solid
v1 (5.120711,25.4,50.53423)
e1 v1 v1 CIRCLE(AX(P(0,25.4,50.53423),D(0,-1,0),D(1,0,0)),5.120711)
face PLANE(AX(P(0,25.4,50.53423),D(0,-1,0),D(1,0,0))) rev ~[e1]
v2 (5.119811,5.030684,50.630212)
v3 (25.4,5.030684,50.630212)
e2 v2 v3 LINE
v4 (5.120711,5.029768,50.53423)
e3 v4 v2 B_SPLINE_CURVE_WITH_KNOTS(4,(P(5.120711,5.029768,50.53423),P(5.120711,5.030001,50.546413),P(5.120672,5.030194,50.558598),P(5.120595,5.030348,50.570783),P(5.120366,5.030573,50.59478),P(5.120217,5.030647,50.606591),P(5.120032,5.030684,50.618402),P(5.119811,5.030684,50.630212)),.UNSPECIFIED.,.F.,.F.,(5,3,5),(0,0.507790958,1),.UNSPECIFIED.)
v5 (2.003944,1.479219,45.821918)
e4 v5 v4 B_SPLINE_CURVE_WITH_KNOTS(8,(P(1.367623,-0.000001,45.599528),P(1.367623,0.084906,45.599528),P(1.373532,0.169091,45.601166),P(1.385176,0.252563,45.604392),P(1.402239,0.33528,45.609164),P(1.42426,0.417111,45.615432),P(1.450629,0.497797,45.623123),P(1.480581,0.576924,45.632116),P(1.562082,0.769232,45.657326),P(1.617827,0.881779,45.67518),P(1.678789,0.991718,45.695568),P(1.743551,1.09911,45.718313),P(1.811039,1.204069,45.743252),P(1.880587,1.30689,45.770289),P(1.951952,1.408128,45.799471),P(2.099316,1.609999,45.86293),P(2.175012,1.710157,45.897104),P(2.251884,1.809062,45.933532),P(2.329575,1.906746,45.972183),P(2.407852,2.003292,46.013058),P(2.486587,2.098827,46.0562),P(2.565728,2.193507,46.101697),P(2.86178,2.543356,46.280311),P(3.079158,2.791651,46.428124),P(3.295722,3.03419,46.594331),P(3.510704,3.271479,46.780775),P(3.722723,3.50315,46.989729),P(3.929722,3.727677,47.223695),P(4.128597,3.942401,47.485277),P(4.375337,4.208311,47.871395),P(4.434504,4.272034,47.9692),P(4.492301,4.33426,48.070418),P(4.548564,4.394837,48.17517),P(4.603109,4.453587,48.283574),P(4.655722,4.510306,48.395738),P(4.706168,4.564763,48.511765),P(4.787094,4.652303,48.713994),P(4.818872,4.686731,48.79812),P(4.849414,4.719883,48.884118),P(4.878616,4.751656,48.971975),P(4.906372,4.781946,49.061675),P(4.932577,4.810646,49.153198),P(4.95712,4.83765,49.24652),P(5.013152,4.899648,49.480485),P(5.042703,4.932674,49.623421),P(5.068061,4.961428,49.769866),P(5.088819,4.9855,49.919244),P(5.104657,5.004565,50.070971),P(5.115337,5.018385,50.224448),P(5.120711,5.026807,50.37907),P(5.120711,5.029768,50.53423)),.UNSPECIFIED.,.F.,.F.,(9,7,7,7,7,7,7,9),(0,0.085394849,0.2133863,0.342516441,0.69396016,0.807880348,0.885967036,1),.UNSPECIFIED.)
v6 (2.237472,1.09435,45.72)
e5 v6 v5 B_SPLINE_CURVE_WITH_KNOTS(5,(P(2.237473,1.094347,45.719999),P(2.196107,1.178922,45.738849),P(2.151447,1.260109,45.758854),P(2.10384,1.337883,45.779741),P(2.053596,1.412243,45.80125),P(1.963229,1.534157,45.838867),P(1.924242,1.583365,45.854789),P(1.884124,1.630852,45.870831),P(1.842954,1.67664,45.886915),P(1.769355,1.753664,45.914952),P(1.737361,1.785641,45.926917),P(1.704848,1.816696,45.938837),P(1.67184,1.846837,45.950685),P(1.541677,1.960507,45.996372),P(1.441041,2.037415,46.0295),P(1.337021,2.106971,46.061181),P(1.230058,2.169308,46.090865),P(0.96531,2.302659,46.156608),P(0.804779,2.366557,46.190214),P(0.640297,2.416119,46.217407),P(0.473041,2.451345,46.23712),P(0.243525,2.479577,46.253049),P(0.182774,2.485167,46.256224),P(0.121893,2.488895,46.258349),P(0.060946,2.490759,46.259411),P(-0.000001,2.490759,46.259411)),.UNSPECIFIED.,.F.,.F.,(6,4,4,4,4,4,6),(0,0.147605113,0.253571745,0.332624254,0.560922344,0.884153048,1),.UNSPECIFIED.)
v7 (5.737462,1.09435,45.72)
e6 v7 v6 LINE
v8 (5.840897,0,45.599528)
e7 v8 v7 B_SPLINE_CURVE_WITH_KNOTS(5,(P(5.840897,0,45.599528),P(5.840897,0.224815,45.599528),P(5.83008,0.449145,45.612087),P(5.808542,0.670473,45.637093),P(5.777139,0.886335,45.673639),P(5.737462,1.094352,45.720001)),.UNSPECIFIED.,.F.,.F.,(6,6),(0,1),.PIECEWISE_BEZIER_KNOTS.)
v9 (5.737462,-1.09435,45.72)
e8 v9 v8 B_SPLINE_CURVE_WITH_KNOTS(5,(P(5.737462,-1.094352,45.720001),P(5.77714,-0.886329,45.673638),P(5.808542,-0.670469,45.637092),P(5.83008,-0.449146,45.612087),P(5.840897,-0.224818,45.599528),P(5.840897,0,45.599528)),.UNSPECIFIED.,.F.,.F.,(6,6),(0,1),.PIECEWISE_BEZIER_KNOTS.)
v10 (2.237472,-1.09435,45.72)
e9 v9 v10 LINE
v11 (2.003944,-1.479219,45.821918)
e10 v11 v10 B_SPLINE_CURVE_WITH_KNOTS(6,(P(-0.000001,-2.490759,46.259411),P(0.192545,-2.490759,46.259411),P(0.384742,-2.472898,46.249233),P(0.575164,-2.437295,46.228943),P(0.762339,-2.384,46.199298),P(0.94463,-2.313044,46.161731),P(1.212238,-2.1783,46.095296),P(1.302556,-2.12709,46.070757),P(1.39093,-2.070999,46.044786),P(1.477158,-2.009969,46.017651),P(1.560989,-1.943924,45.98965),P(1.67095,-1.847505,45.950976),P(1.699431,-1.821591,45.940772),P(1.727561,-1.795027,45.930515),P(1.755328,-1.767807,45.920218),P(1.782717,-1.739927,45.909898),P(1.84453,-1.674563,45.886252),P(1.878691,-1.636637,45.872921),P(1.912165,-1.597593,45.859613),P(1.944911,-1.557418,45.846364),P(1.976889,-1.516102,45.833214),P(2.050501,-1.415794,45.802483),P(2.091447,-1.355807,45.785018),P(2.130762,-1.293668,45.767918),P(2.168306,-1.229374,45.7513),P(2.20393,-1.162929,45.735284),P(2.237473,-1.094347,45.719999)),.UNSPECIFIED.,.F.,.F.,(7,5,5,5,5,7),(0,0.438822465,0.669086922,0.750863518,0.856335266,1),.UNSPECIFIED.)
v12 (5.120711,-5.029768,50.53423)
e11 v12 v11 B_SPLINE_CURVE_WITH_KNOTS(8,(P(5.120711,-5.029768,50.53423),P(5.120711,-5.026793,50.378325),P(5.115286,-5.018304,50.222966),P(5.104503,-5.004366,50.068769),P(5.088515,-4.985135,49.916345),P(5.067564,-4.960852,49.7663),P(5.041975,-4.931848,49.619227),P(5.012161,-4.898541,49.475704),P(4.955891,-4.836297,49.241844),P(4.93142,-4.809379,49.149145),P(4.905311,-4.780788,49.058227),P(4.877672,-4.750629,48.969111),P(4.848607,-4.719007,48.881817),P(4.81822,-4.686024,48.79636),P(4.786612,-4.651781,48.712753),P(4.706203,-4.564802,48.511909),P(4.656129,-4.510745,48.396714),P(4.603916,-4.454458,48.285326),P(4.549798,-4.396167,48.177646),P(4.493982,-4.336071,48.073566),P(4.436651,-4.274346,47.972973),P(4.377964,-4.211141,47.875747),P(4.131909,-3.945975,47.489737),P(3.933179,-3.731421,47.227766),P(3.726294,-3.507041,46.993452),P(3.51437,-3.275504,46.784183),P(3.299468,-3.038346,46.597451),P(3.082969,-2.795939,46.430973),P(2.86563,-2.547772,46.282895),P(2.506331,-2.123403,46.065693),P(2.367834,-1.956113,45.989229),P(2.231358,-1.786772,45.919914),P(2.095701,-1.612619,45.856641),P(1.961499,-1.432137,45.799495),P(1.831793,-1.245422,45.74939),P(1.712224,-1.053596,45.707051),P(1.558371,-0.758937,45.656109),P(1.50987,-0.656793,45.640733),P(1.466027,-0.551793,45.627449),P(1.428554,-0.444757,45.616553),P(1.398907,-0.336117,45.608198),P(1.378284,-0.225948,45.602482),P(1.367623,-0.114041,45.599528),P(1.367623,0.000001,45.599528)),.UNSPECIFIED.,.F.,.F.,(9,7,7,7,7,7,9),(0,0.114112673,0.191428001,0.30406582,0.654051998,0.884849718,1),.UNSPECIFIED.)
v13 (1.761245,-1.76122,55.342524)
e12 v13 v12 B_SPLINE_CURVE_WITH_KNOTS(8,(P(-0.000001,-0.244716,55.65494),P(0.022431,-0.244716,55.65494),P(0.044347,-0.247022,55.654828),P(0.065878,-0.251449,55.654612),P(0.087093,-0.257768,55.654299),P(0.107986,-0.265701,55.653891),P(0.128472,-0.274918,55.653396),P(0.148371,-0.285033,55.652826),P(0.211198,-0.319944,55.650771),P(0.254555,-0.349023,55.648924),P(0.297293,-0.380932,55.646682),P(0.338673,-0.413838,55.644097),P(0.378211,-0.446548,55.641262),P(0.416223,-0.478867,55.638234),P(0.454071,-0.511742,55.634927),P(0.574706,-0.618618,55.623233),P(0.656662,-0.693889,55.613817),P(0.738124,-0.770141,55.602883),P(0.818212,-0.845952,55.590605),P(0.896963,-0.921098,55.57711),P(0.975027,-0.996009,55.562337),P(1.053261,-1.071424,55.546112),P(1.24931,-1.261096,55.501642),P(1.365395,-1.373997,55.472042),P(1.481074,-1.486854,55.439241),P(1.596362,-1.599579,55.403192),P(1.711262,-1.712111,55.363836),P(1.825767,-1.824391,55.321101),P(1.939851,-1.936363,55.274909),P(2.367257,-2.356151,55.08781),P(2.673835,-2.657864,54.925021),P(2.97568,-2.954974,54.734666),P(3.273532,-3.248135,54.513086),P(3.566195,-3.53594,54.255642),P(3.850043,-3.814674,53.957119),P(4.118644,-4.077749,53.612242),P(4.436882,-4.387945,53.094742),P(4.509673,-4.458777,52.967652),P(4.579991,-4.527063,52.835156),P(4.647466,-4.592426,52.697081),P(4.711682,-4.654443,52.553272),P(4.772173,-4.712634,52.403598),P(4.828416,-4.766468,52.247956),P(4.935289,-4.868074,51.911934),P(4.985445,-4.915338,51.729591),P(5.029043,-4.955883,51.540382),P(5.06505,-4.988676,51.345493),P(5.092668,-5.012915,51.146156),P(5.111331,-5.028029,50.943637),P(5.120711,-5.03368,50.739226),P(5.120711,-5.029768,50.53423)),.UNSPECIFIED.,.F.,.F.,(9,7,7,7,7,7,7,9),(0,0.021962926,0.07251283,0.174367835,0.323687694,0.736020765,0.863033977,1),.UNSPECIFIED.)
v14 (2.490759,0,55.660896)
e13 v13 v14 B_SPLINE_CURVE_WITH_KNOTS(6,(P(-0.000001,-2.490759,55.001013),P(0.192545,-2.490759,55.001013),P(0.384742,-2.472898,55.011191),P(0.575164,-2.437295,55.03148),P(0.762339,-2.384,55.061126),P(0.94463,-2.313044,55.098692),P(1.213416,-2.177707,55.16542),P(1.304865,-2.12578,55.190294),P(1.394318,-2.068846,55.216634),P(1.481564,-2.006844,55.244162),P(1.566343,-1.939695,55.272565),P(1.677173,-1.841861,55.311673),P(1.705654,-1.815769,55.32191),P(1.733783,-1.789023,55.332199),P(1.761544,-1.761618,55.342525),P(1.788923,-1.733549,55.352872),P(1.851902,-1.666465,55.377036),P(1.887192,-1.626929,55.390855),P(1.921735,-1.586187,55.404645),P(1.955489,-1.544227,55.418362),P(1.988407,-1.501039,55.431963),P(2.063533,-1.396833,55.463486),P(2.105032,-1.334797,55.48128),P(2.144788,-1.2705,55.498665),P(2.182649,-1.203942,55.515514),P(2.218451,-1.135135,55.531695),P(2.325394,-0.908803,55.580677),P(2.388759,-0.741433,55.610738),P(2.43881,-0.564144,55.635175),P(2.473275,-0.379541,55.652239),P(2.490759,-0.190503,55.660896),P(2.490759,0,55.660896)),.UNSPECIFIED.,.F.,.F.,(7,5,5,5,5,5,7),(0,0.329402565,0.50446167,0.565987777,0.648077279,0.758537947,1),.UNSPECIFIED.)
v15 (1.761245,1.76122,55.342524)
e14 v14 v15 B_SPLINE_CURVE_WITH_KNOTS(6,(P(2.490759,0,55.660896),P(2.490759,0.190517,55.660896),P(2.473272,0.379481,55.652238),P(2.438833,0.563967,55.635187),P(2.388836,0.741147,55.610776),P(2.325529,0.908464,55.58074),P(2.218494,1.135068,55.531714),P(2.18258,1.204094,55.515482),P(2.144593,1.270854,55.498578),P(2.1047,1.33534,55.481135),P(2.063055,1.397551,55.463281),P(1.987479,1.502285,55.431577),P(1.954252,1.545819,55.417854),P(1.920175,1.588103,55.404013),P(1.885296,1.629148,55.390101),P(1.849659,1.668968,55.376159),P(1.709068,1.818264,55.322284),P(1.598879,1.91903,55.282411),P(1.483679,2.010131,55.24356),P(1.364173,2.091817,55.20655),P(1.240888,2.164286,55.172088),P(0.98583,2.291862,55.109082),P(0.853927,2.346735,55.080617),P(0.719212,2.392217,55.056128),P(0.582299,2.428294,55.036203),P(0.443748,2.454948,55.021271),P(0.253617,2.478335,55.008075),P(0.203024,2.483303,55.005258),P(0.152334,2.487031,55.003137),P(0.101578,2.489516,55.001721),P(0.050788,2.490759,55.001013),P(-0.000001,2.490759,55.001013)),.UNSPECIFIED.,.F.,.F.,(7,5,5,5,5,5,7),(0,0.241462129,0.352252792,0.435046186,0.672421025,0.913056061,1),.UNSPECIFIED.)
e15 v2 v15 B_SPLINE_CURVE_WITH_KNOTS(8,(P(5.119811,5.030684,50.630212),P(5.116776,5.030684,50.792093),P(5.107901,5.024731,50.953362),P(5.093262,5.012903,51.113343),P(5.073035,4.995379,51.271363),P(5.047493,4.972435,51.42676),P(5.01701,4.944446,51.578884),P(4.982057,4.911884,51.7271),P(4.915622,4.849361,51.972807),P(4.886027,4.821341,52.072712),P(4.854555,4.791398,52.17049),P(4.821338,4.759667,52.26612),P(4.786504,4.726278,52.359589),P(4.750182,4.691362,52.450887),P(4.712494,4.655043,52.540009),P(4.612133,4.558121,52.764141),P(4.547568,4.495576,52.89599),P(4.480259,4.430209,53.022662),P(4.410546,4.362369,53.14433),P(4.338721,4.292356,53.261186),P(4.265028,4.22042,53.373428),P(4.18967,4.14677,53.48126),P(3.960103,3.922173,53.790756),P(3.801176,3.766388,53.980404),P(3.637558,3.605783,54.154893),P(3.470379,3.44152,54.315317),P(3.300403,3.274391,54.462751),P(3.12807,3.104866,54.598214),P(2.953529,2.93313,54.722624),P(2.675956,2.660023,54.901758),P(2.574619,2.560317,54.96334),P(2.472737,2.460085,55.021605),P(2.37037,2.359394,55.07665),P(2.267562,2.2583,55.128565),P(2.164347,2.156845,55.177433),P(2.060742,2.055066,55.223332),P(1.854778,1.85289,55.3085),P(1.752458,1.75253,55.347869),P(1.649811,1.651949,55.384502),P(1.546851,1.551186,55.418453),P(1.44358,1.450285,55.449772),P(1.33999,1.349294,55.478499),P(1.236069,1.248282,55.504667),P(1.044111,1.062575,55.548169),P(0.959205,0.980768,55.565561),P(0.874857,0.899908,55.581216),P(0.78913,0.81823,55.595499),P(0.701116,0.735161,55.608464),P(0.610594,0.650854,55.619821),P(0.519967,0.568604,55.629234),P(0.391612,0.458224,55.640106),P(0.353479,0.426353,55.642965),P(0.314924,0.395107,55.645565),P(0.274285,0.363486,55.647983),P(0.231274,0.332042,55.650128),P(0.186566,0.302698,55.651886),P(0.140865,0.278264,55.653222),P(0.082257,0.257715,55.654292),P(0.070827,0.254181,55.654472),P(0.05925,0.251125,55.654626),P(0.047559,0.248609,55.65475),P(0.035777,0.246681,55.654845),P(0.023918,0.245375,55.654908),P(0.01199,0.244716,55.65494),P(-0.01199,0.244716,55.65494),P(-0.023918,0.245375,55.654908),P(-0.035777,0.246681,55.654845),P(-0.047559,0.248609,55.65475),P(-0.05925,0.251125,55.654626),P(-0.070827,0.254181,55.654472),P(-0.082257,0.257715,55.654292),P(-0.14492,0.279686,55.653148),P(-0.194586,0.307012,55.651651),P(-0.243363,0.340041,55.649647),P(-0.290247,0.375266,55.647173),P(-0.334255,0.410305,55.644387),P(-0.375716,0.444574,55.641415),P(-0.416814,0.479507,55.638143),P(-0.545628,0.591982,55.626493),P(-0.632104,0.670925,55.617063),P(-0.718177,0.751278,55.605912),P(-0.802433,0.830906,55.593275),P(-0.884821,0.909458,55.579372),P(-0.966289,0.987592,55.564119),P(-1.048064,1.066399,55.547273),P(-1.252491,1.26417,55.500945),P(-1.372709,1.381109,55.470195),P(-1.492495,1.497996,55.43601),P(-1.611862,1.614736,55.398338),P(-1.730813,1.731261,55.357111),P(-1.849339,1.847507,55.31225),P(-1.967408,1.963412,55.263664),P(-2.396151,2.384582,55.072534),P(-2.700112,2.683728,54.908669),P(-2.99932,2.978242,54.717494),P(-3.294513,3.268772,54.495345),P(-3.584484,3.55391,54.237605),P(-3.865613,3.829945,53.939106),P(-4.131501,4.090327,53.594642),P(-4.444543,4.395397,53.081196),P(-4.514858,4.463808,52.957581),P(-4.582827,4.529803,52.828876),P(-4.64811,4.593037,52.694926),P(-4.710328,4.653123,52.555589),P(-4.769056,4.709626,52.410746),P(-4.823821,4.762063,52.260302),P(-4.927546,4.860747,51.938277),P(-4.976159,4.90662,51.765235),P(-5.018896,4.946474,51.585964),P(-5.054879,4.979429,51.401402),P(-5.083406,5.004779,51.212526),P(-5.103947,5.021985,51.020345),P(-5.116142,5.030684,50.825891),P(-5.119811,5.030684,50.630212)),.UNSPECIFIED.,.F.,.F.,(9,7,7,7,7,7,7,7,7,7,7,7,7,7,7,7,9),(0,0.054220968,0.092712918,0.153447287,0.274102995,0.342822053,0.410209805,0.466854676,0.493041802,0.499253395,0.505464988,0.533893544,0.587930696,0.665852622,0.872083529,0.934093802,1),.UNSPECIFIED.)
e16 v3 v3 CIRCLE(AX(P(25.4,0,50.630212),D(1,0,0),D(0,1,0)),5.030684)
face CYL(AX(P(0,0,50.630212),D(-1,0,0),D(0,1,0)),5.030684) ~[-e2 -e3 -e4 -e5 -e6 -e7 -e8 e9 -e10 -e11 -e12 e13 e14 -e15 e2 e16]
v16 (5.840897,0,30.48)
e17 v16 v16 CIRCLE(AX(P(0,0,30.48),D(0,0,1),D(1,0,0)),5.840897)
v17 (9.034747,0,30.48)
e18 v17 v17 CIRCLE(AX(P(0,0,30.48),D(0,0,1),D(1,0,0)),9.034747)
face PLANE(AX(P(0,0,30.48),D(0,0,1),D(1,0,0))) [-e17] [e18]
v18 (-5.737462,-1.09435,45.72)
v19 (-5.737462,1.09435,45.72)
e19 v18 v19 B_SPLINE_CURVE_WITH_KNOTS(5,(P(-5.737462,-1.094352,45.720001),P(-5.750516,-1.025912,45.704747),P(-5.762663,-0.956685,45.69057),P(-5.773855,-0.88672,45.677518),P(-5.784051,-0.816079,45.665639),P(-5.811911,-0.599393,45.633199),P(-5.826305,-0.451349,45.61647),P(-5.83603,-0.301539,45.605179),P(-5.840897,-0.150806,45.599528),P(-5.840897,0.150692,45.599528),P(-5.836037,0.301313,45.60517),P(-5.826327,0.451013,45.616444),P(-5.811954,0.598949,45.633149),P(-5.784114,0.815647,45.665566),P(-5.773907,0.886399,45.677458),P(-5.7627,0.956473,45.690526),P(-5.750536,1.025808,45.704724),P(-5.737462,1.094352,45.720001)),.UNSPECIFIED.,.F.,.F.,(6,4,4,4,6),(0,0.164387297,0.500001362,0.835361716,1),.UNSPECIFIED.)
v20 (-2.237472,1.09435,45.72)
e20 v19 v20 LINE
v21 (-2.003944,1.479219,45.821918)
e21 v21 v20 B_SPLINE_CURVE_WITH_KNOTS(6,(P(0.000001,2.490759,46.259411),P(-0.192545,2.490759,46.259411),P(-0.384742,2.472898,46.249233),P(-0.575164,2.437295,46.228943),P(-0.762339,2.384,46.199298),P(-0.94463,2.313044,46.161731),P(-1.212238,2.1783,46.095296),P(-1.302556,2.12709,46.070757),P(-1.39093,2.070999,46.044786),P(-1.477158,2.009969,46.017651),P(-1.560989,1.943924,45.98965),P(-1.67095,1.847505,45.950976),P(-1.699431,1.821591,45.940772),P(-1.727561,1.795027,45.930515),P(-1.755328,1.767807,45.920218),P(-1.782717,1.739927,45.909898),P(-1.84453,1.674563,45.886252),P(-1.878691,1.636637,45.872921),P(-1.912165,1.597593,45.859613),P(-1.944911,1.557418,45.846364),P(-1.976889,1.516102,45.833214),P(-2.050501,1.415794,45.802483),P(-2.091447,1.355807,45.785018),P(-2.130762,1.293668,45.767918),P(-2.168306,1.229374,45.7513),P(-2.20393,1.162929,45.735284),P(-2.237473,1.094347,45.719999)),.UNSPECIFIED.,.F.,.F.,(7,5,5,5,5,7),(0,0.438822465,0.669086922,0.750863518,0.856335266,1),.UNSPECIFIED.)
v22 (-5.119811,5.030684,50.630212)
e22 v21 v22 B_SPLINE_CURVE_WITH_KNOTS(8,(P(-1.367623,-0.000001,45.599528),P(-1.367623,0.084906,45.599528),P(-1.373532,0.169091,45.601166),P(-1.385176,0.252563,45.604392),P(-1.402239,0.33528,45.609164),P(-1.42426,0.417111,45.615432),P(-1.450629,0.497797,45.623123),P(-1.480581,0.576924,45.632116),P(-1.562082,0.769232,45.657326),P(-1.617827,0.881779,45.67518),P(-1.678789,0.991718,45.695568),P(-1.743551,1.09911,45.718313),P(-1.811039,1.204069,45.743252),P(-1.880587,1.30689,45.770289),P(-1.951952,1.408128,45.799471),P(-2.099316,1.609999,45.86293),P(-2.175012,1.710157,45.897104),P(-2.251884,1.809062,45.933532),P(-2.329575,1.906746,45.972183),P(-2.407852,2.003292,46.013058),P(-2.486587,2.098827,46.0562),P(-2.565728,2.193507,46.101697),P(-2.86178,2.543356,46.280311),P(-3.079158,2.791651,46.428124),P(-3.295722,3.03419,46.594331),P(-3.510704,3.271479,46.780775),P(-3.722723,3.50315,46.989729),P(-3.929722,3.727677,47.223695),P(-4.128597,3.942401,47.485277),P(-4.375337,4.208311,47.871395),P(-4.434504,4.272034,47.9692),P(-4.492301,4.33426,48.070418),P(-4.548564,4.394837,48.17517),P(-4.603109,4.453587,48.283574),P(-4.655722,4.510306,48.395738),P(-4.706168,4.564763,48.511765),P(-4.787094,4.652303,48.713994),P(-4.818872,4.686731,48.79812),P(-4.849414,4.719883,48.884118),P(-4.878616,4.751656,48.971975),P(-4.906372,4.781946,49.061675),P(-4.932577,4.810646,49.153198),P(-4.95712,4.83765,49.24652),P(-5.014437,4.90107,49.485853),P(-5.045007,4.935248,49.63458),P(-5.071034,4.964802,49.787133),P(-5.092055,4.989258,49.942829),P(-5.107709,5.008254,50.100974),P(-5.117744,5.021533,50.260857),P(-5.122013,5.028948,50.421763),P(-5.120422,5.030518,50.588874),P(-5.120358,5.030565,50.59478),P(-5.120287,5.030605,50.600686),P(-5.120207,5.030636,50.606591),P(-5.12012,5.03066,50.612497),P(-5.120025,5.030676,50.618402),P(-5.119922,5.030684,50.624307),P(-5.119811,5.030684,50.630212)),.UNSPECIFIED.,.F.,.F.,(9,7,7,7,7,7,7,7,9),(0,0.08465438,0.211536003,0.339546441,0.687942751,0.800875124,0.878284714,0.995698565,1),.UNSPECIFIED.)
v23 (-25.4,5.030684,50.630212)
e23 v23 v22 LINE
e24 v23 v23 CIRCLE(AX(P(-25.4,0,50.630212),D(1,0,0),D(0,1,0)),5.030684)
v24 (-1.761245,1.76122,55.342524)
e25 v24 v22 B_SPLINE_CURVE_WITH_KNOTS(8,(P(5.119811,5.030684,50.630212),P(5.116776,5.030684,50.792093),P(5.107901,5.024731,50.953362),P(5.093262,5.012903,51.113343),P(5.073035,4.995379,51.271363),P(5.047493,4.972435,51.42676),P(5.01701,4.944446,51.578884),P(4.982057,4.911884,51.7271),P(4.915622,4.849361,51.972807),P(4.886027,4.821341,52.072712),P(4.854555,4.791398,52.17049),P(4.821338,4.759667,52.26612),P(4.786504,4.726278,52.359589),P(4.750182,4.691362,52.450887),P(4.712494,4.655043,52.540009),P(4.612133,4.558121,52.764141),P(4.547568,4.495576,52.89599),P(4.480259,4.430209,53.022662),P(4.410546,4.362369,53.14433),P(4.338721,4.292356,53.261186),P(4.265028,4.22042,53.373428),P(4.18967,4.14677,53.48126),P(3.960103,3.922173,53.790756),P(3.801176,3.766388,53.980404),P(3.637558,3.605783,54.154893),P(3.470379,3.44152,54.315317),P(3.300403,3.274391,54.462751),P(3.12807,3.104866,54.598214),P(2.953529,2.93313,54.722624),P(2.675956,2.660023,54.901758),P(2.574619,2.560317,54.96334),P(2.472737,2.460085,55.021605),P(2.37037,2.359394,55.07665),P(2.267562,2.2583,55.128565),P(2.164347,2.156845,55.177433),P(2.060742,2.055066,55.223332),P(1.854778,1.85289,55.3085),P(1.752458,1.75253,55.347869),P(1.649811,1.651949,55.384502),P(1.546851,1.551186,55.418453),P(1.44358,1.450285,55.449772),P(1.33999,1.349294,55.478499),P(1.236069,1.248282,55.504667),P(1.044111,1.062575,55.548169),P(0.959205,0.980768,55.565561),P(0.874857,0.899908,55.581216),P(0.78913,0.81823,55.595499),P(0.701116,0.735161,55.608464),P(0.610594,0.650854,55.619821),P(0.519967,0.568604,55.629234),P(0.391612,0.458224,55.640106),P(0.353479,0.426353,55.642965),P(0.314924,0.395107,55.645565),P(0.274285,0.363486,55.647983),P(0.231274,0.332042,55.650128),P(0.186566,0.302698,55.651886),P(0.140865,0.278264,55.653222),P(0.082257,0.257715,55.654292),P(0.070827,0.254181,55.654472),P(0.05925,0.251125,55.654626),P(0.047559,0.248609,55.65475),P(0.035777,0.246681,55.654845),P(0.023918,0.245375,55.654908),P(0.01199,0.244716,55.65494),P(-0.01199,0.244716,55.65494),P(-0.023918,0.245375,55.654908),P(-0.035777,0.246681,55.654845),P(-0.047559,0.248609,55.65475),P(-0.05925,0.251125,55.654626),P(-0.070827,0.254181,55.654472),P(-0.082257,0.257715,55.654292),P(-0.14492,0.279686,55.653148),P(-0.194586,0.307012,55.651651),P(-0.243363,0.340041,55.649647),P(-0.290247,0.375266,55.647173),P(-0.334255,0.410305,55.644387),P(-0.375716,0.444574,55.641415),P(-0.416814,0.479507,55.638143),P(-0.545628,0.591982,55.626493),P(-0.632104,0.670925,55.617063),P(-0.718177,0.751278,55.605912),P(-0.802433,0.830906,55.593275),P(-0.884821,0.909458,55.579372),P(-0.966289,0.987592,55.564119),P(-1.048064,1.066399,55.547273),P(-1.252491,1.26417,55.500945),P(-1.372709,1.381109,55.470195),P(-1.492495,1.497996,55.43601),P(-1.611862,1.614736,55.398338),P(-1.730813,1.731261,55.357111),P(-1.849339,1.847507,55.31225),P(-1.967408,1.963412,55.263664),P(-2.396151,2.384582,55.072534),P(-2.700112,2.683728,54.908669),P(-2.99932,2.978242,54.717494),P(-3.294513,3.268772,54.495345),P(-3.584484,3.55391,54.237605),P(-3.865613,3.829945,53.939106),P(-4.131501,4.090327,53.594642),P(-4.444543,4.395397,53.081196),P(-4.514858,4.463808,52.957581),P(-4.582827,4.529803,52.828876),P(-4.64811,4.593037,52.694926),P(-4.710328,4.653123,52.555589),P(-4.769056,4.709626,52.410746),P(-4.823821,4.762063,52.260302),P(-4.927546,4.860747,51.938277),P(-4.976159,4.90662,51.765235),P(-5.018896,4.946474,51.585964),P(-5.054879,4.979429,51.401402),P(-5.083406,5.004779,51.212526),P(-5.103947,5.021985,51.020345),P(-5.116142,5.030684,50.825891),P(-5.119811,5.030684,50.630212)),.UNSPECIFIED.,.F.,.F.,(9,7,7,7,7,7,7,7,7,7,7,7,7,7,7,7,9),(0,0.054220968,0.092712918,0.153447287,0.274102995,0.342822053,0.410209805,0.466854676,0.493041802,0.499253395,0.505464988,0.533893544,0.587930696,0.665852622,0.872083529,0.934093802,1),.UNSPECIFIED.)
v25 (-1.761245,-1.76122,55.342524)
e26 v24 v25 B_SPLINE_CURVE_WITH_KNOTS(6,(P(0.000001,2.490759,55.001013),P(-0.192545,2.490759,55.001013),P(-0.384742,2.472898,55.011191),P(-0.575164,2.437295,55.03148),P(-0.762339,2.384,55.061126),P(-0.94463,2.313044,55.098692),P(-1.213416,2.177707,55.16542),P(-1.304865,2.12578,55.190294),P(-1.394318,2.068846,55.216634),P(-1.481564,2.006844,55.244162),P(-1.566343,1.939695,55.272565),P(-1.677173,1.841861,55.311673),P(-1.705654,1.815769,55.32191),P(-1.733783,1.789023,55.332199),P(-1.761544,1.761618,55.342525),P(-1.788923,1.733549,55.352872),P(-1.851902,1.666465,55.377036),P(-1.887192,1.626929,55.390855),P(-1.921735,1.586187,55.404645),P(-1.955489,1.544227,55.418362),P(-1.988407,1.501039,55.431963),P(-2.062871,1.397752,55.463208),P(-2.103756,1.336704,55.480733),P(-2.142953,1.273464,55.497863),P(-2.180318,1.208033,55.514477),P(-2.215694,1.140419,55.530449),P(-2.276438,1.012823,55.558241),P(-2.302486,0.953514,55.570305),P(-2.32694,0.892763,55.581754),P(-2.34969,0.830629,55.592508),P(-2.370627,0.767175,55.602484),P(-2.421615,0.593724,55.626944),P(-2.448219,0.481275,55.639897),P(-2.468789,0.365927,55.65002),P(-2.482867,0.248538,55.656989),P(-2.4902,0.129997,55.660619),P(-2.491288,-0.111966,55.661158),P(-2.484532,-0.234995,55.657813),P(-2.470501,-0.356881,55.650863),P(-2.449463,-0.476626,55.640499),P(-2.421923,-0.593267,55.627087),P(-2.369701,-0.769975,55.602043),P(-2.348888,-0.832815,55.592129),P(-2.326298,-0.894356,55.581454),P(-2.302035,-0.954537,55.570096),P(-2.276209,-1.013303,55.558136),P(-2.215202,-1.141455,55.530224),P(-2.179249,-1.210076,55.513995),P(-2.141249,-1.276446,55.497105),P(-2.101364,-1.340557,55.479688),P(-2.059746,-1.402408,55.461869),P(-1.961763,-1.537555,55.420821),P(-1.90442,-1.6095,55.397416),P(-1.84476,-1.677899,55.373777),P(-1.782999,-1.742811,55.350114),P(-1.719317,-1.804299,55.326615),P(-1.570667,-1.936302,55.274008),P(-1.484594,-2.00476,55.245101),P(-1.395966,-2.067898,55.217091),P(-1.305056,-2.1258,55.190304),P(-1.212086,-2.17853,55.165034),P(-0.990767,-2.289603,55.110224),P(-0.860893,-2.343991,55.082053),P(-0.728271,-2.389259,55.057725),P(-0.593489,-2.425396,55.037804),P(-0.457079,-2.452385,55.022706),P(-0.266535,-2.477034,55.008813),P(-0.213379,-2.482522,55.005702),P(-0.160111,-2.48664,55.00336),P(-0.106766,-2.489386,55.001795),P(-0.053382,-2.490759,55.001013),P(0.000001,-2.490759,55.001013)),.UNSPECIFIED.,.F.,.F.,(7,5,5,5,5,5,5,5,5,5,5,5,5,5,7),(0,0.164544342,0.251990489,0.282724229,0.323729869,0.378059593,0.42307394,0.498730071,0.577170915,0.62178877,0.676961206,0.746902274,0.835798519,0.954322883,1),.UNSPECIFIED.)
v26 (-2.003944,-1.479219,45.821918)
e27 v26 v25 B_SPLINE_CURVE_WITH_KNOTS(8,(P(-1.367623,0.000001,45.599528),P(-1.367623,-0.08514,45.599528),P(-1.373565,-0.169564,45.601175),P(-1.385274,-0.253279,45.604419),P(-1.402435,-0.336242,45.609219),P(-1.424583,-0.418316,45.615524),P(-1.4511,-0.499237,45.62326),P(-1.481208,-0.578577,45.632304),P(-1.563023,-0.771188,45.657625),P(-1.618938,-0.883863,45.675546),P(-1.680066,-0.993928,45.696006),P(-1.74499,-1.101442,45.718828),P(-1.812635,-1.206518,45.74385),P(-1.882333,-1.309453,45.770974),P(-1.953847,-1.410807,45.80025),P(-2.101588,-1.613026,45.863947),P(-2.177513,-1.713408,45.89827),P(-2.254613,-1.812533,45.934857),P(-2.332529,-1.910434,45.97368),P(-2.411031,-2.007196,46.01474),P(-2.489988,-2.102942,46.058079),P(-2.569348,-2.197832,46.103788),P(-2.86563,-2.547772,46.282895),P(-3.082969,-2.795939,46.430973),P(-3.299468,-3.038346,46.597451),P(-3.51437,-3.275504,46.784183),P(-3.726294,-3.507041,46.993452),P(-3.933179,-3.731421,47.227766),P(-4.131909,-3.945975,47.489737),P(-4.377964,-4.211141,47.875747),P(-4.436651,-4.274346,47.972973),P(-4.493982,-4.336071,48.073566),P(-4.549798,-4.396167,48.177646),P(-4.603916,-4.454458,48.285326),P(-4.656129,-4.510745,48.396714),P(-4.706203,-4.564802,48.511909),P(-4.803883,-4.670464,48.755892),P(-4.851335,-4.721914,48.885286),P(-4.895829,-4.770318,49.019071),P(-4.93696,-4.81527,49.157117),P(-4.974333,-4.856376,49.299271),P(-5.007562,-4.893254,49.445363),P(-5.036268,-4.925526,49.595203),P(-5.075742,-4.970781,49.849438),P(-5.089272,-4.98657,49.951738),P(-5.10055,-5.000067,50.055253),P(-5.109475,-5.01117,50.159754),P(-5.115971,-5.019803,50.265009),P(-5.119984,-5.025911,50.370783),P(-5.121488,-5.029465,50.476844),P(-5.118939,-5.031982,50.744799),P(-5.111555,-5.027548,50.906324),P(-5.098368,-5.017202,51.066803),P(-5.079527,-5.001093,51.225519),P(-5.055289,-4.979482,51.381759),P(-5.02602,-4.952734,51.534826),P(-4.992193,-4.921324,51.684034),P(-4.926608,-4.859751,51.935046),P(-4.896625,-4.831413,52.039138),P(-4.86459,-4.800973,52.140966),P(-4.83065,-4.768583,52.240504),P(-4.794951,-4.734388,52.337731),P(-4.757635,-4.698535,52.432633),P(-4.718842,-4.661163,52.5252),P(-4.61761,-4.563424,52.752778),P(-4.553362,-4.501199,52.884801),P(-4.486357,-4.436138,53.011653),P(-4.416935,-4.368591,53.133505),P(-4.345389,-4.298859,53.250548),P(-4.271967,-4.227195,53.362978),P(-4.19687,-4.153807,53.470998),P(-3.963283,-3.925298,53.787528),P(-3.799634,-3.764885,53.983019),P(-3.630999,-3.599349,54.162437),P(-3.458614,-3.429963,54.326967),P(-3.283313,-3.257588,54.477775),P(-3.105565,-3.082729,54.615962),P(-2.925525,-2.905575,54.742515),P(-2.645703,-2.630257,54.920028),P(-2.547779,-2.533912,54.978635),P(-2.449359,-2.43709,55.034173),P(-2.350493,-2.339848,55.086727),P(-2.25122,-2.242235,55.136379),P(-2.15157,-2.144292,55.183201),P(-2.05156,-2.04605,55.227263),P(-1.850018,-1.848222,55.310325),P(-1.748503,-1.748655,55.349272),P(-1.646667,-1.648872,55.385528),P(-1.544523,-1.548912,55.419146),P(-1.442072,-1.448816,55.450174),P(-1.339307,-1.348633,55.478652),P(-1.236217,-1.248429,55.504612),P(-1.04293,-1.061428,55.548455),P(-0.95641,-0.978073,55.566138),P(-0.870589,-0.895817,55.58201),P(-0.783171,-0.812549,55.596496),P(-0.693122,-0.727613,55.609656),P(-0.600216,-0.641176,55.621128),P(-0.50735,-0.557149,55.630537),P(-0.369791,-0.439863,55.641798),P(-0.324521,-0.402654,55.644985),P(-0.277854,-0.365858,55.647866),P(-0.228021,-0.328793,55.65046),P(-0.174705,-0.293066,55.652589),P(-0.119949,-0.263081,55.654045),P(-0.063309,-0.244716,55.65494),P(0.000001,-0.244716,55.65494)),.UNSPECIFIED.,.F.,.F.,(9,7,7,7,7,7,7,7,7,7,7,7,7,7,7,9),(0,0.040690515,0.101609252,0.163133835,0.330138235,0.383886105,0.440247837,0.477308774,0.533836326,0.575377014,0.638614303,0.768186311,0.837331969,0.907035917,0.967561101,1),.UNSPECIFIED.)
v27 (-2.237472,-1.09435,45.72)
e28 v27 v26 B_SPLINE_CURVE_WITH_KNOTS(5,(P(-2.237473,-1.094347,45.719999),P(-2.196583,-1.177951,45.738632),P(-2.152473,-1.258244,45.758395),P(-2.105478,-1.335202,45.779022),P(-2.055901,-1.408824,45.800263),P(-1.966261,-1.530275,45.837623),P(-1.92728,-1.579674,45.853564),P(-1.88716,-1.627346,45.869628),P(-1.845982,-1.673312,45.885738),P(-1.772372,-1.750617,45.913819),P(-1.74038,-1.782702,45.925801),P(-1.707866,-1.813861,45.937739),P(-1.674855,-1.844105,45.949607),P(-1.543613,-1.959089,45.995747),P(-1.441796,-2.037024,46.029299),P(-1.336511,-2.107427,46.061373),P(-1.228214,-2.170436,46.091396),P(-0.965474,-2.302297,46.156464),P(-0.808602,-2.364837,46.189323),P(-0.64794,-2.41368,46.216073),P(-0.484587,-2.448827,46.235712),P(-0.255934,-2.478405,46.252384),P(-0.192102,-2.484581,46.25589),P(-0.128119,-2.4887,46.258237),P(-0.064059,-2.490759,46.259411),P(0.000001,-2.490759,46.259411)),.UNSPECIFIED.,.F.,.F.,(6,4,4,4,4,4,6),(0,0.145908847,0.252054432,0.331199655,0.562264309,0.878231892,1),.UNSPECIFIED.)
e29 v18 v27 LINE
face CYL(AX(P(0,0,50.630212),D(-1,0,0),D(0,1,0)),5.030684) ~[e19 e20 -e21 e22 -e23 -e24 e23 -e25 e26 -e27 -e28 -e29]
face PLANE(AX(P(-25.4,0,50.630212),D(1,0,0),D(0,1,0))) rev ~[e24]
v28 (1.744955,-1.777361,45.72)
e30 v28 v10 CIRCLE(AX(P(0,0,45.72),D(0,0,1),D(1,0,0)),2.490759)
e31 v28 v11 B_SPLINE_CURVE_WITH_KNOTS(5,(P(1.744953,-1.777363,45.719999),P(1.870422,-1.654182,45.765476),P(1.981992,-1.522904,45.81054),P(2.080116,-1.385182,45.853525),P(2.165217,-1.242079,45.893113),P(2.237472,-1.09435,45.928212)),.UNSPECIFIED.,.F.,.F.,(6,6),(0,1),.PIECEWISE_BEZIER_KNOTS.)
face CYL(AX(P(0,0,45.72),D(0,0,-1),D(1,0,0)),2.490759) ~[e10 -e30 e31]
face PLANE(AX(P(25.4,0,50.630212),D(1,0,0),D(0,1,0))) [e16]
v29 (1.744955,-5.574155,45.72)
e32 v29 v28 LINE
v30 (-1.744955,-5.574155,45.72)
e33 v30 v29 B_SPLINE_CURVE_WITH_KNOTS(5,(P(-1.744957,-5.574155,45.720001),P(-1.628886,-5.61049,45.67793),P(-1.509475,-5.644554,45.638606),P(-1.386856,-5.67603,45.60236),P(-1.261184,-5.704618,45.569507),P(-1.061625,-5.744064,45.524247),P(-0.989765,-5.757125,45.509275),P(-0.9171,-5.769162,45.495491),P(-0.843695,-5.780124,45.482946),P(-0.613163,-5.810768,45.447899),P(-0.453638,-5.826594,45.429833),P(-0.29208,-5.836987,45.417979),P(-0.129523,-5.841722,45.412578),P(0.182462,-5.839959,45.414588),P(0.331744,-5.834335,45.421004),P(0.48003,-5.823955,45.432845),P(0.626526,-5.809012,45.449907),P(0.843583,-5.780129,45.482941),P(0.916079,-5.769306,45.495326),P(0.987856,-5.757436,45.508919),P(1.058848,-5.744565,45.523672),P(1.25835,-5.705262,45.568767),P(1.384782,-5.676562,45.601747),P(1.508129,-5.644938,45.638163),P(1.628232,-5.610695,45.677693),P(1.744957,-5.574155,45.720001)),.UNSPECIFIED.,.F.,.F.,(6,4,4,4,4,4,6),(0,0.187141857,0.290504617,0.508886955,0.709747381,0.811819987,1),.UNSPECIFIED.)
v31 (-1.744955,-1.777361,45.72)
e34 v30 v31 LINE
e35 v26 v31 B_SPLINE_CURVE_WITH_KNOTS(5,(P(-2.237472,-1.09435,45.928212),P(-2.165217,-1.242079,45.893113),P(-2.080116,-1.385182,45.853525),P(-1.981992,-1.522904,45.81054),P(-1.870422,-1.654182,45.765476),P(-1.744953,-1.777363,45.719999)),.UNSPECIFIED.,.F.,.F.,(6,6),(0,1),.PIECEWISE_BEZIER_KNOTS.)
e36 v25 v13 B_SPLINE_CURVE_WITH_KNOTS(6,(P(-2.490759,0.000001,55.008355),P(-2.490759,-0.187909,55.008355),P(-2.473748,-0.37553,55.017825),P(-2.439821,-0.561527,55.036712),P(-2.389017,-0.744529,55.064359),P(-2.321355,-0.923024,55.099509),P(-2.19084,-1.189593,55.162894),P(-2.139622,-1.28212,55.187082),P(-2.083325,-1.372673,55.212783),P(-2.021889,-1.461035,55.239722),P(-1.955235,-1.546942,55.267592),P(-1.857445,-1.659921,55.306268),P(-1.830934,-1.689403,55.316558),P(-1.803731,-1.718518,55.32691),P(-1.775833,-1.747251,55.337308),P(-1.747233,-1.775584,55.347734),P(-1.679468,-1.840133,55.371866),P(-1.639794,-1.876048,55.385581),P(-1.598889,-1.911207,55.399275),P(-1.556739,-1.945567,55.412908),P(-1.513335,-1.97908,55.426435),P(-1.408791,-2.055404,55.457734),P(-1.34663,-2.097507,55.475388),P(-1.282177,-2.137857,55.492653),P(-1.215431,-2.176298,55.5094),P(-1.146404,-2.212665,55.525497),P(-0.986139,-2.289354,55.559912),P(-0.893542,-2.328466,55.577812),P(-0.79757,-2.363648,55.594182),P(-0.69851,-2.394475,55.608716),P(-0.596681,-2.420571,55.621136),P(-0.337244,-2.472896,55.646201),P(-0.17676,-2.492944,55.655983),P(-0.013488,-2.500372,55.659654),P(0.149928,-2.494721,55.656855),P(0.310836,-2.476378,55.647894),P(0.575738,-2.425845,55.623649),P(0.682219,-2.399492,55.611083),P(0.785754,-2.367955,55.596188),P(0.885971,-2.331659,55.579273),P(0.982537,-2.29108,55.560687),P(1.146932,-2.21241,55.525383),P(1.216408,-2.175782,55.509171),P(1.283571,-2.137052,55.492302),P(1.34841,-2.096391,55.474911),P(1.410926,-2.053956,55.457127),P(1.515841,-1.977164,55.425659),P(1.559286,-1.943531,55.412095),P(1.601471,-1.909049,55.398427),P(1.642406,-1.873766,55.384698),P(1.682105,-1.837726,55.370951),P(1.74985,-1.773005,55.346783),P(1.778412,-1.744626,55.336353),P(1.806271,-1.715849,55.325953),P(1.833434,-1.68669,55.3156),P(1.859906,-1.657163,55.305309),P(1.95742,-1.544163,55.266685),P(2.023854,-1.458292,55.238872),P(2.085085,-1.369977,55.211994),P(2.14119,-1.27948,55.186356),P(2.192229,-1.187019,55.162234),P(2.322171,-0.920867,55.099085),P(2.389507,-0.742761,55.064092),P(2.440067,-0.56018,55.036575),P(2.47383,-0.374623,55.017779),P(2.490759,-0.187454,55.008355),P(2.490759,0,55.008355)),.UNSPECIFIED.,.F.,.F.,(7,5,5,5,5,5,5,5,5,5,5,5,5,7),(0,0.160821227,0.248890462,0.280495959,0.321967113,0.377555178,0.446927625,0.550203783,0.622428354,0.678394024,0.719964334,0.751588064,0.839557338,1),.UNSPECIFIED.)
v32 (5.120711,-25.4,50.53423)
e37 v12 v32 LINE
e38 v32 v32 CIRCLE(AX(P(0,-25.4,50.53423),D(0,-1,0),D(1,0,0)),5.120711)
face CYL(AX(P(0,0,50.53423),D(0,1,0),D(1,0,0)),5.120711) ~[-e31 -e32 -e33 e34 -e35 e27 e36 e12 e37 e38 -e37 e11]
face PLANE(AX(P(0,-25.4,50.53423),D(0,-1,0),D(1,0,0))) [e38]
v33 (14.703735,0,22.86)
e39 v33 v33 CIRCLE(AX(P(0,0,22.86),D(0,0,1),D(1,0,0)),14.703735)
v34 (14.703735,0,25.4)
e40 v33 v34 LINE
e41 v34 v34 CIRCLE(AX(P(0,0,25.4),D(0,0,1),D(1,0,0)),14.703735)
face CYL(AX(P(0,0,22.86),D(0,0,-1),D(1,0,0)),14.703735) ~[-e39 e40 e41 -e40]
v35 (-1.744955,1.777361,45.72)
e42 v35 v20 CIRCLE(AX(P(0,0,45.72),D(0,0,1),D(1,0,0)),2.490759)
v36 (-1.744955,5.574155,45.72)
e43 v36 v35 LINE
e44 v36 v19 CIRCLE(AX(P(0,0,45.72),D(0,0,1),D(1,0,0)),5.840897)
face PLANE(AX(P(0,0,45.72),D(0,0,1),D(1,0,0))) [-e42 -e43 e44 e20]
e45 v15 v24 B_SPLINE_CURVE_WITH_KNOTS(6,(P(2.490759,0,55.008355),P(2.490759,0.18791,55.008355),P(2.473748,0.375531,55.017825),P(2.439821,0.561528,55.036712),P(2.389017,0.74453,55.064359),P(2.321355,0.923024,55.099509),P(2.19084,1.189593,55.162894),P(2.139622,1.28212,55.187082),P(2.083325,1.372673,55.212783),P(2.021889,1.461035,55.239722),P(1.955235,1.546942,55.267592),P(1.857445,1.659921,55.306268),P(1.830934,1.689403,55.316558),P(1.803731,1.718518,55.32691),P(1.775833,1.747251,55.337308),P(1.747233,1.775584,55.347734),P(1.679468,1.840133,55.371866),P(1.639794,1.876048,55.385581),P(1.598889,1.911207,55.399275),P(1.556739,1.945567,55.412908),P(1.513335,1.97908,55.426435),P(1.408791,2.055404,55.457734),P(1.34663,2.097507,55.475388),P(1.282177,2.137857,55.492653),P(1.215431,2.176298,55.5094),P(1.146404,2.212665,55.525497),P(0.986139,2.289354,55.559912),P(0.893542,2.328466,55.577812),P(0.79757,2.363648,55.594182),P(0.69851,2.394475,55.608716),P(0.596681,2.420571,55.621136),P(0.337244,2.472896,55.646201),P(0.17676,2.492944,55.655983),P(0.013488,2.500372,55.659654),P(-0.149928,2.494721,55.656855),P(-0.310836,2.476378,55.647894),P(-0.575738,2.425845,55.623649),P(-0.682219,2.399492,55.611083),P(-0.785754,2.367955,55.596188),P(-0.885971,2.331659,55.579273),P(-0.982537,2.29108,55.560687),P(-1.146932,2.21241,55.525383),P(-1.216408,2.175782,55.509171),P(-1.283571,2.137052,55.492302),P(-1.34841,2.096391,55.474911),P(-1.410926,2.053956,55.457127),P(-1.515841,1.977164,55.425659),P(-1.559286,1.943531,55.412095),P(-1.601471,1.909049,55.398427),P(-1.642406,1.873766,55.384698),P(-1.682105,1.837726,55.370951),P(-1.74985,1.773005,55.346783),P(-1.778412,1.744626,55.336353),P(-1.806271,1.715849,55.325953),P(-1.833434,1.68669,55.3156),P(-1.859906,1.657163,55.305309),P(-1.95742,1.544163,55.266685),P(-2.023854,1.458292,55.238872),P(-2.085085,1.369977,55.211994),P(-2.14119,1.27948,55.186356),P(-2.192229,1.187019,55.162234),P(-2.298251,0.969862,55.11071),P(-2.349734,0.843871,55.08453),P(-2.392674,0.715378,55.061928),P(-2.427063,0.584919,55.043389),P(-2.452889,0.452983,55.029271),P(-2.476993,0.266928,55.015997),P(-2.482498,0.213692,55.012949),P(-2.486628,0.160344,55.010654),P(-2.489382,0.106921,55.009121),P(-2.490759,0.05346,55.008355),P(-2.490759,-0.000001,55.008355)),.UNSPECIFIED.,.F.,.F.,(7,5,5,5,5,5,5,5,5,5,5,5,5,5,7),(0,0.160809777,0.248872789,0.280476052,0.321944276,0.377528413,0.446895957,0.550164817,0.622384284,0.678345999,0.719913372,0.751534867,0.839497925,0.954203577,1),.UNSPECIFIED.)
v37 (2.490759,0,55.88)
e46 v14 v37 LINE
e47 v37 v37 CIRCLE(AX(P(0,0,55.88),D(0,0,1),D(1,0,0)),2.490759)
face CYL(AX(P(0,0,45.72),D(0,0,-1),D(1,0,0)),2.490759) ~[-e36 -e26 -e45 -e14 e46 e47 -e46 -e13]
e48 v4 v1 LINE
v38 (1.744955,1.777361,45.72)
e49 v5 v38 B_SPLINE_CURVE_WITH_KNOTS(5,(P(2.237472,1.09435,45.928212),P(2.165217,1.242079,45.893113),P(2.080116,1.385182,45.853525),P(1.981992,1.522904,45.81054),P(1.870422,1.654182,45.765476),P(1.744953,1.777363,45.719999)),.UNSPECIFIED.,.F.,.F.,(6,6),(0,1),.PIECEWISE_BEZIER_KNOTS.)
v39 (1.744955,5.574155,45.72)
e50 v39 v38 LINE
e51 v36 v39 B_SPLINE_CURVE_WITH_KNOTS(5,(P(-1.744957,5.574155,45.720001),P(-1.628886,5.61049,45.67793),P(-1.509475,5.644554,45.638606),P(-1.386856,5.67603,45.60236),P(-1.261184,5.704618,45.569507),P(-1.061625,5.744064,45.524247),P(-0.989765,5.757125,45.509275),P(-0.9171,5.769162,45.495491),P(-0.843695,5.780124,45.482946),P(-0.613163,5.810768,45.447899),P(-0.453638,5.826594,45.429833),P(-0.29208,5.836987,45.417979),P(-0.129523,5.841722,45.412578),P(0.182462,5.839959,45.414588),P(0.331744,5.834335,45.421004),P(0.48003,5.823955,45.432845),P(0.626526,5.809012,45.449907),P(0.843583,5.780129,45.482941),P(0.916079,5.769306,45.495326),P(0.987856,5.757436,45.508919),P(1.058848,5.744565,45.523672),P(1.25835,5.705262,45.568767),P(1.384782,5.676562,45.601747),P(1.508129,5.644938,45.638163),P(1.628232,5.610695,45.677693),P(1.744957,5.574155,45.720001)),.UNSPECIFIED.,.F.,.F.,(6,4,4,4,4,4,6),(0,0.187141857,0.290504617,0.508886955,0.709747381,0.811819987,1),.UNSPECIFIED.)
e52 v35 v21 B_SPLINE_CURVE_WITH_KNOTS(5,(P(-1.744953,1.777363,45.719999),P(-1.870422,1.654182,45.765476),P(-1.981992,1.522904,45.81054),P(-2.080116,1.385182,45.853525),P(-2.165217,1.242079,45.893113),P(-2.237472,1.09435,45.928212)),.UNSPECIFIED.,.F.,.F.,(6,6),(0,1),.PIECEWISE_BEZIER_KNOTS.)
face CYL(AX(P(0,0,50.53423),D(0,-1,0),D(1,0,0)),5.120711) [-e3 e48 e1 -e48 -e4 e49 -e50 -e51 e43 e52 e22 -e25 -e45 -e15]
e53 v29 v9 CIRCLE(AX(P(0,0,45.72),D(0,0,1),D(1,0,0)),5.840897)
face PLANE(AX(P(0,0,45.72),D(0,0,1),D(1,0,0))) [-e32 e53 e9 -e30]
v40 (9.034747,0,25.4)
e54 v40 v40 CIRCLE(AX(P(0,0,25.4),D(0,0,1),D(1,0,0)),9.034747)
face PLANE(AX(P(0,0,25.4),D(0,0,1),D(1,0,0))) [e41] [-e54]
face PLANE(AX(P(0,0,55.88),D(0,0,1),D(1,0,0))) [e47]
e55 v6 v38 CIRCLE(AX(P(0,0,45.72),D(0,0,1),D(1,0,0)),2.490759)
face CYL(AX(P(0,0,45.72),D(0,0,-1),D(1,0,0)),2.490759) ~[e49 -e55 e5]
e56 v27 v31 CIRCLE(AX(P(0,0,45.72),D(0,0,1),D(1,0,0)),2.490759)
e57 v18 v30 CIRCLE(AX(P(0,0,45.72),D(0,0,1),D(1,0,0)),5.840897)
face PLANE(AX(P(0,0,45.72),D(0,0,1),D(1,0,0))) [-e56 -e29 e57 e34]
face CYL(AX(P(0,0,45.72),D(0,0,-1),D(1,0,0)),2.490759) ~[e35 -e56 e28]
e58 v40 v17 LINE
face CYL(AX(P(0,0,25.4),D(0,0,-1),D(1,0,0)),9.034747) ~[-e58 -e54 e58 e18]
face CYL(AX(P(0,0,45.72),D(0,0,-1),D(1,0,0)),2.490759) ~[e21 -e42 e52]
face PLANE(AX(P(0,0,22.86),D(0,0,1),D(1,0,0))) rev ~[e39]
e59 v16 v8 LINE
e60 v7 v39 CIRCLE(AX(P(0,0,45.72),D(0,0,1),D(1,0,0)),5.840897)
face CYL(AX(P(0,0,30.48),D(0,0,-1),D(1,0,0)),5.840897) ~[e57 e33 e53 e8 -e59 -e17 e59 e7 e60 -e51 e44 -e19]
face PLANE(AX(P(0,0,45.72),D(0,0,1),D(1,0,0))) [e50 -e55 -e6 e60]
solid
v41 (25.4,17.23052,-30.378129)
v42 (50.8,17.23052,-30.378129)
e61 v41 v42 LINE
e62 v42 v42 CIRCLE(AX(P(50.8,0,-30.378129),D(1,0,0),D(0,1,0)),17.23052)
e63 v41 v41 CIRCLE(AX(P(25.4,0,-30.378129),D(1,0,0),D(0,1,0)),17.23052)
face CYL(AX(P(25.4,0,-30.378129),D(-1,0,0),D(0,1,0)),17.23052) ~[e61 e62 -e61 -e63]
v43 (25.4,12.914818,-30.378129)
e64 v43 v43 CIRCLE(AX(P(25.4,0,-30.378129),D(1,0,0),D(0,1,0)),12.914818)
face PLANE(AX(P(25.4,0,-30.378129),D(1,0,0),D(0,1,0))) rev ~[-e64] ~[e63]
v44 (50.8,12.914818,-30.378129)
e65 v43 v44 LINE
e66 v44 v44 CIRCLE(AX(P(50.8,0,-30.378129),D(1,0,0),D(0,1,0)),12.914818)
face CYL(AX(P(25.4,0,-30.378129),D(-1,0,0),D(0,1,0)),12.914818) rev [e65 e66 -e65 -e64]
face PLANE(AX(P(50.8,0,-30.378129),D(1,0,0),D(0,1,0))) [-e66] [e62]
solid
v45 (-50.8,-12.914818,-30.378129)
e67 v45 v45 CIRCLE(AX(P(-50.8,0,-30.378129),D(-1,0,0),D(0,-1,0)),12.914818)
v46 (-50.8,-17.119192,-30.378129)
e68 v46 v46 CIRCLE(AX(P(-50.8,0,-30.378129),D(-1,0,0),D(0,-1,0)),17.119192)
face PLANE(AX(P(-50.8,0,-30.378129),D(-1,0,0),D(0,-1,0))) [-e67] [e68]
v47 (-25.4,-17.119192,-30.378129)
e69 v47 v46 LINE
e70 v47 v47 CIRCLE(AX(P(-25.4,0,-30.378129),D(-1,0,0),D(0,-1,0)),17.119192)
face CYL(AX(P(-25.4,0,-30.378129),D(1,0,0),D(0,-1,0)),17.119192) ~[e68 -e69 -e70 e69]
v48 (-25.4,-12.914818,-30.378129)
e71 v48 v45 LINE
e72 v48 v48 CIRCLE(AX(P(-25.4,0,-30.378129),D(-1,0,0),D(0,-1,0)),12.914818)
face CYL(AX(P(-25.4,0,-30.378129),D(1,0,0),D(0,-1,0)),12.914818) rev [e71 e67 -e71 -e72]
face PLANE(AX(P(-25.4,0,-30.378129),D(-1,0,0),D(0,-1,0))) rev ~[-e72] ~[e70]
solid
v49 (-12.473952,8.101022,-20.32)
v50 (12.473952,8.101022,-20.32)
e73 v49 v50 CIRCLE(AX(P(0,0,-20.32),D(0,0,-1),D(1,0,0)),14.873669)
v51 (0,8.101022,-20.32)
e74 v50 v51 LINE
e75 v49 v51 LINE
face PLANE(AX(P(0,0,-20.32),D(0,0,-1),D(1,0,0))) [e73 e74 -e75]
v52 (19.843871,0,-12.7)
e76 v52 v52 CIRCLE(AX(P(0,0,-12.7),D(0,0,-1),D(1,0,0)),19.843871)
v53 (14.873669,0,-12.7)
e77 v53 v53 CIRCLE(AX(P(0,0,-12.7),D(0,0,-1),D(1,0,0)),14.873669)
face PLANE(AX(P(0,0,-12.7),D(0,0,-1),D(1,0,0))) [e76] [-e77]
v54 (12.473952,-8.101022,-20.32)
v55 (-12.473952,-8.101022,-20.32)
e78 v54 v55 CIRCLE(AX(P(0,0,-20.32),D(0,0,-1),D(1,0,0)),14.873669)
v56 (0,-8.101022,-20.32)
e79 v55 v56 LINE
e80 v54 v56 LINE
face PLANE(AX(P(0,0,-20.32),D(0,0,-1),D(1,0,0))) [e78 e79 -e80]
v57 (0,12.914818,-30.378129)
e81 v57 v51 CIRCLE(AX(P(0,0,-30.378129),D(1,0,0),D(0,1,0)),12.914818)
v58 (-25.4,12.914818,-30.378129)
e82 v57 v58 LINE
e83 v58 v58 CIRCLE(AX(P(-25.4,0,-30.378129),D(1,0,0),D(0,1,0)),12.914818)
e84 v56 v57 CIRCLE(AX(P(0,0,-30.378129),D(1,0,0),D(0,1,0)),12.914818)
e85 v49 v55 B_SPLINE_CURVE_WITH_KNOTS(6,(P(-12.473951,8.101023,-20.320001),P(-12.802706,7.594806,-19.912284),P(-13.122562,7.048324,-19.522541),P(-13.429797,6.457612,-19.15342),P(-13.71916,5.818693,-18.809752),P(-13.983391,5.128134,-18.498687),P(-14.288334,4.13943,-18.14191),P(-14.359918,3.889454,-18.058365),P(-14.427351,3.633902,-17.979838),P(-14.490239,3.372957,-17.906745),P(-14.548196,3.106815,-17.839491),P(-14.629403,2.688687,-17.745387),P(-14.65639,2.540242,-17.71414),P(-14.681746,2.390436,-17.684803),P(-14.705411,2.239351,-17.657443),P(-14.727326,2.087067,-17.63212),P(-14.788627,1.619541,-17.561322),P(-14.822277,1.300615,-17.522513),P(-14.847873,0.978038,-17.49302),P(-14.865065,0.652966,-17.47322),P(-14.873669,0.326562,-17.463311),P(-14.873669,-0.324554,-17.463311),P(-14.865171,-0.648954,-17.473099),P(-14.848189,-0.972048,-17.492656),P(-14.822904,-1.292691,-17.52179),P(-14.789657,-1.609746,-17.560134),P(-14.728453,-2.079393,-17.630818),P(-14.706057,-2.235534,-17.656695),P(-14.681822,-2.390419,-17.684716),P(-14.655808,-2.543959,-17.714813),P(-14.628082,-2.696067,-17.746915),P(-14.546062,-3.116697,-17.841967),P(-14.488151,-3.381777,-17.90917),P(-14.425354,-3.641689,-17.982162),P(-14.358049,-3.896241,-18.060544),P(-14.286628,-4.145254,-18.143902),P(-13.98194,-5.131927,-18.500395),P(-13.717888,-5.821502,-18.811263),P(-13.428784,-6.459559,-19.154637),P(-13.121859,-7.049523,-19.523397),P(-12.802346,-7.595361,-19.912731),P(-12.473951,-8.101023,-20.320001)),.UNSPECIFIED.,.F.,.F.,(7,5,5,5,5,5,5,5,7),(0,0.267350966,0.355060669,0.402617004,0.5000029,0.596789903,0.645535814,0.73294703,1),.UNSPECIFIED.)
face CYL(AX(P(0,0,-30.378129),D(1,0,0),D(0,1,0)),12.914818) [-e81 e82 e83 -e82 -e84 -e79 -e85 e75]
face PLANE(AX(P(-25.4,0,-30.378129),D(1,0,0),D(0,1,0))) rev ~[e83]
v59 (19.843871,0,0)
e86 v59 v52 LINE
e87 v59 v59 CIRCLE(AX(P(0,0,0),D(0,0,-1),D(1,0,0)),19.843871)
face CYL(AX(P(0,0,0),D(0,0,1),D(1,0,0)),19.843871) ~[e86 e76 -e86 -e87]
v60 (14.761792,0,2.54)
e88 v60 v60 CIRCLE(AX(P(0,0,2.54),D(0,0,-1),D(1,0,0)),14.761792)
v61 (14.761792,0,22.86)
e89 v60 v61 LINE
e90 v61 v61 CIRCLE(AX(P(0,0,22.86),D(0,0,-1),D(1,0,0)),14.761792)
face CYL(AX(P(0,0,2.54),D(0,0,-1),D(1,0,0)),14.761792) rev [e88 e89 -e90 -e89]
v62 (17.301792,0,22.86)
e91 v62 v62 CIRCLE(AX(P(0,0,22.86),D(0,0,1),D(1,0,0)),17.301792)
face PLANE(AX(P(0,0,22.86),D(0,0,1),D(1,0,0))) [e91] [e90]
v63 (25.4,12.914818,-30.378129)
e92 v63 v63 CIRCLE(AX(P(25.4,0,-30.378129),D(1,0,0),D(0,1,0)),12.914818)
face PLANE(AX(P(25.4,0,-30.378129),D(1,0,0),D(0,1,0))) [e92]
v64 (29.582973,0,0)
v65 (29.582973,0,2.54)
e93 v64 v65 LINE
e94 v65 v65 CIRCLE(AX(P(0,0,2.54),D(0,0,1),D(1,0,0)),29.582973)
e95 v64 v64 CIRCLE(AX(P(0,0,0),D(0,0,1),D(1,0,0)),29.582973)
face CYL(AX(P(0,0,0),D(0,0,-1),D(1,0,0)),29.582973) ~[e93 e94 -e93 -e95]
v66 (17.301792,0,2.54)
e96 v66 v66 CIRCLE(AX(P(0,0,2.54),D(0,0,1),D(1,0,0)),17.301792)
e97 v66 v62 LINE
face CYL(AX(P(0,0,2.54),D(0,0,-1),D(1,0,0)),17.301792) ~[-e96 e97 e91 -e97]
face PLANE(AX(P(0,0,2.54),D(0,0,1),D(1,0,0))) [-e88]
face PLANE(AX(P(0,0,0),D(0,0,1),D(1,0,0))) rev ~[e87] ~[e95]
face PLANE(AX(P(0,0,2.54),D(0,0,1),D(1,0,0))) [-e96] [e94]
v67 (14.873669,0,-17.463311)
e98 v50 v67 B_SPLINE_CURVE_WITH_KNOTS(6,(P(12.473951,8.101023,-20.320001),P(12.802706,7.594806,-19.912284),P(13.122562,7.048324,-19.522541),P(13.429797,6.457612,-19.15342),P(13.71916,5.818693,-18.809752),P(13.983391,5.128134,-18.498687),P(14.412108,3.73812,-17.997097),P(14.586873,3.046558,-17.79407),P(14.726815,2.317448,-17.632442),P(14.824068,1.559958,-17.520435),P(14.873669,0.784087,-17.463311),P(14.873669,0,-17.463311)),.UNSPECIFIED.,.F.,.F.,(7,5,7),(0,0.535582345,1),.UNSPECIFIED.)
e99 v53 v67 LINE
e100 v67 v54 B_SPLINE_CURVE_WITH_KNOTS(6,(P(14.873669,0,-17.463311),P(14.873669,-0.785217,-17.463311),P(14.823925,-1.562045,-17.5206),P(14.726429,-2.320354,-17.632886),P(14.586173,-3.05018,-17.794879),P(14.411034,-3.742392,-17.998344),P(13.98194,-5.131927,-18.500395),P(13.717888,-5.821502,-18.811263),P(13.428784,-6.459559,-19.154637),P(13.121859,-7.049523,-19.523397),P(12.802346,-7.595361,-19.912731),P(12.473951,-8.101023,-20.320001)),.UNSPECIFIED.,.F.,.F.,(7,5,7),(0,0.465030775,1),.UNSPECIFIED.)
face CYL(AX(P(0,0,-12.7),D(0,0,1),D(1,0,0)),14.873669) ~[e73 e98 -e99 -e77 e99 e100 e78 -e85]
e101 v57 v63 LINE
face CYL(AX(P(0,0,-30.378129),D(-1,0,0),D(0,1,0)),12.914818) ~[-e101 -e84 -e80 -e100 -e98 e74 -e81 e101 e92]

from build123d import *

# Parameters (mm, degrees)
F0_R           = 29.5829734146
F1_DEPTH       = 2.54
F2_R           = 17.3017917946
F3_DEPTH       = 20.32
F4_T           = -2.54
F5_R           = 14.7037348568
F6_DEPTH       = 2.54
F7_R           = 9.0347468528
F8_DEPTH       = 5.08
F9_R           = 5.8408968213
F10_DEPTH      = 15.24
F11_R          = 2.4907592274
F12_DEPTH      = 10.16
F13_R          = 5.0306840155
F14_DEPTH      = 25.4
F14_DEPTH_BACK = 25.4
F15_R          = 5.1207105193
F16_DEPTH      = 25.4
F16_DEPTH_BACK = 25.4
F17_R          = 19.8438709688
F18_DEPTH      = 12.7
F19_R          = 14.8736691487
F20_DEPTH      = 7.62
F21_R          = 12.914817916
F22_DEPTH      = 25.4
F22_DEPTH_BACK = 25.4
F23_R          = 17.1191917215
F23_R_2        = 12.914817916
F24_DEPTH      = 25.4
F25_R          = 17.2305196111
F25_R_2        = 12.914817916
F26_DEPTH      = 25.4


with BuildPart() as f1:
    # F0 (on Top) → F1 (new body)
    with BuildSketch(Plane.XY):
        Circle(F0_R)
    extrude(amount=F1_DEPTH)

    # F2 (on face) → F3 (join)
    with BuildSketch(Plane.XY.offset(2.54)):
        Circle(F2_R)
    extrude(amount=F3_DEPTH)

    # F4
    f4_openings = [f1.faces().sort_by_distance(p)[0] for p in [
        (0, 0, 22.86),
    ]]
    offset(amount=F4_T, openings=f4_openings, kind=Kind.INTERSECTION)

    # F17 (on face) → F18 (join)
    with BuildSketch(Plane(origin=(0, 0, 0), x_dir=(1, 0, 0), z_dir=(0, 0, -1))):
        Circle(F17_R)
    extrude(amount=F18_DEPTH)

    # F19 (on face) → F20 (join)
    with BuildSketch(Plane(origin=(0, 0, -12.7), x_dir=(1, 0, 0), z_dir=(0, 0, -1))):
        Circle(F19_R)
    extrude(amount=F20_DEPTH)

    # F21 (on Right) → F22 (join, two sides)
    with BuildSketch(Plane.YZ) as f22_sk:
        with Locations((0, -30.3781293333)):
            Circle(F21_R)
    extrude(amount=F22_DEPTH)
    extrude(f22_sk.sketch, amount=-F22_DEPTH_BACK)


with BuildPart() as f6:
    # F5 (on face) → F6 (new body)
    with BuildSketch(Plane.XY.offset(22.86)):
        Circle(F5_R)
    extrude(amount=F6_DEPTH)

    # F7 (on face) → F8 (join)
    with BuildSketch(Plane.XY.offset(25.4)):
        Circle(F7_R)
    extrude(amount=F8_DEPTH)

    # F9 (on face) → F10 (join)
    with BuildSketch(Plane.XY.offset(30.48)):
        Circle(F9_R)
    extrude(amount=F10_DEPTH)

    # F11 (on face) → F12 (join)
    with BuildSketch(Plane.XY.offset(45.72)):
        Circle(F11_R)
    extrude(amount=F12_DEPTH)

    # F13 (on Right) → F14 (join, two sides)
    with BuildSketch(Plane.YZ) as f14_sk:
        with Locations((0, 50.6302118301)):
            Circle(F13_R)
    extrude(amount=F14_DEPTH)
    extrude(f14_sk.sketch, amount=-F14_DEPTH_BACK)

    # F15 (on Front) → F16 (join, two sides)
    with BuildSketch(Plane.XZ) as f16_sk:
        with Locations((0, 50.5342297256)):
            Circle(F15_R)
    extrude(amount=F16_DEPTH)
    extrude(f16_sk.sketch, amount=-F16_DEPTH_BACK)


with BuildPart() as f24:
    # F23 (on face) → F24 (new body)
    with BuildSketch(Plane(origin=(-25.4, 0, 0), x_dir=(0, -1, 0), z_dir=(-1, 0, 0))):
        with Locations((0, -30.3781293333)):
            Circle(F23_R)
        with Locations((0, -30.3781293333)):
            Circle(F23_R_2, mode=Mode.SUBTRACT)
    extrude(amount=F24_DEPTH)


with BuildPart() as f26:
    # F25 (on face) → F26 (new body)
    with BuildSketch(Plane.YZ.offset(25.4)):
        with Locations((0, -30.3781293333)):
            Circle(F25_R)
        with Locations((0, -30.3781293333)):
            Circle(F25_R_2, mode=Mode.SUBTRACT)
    extrude(amount=F26_DEPTH)


solid = Compound([f1.part, f6.part, f24.part, f26.part])
